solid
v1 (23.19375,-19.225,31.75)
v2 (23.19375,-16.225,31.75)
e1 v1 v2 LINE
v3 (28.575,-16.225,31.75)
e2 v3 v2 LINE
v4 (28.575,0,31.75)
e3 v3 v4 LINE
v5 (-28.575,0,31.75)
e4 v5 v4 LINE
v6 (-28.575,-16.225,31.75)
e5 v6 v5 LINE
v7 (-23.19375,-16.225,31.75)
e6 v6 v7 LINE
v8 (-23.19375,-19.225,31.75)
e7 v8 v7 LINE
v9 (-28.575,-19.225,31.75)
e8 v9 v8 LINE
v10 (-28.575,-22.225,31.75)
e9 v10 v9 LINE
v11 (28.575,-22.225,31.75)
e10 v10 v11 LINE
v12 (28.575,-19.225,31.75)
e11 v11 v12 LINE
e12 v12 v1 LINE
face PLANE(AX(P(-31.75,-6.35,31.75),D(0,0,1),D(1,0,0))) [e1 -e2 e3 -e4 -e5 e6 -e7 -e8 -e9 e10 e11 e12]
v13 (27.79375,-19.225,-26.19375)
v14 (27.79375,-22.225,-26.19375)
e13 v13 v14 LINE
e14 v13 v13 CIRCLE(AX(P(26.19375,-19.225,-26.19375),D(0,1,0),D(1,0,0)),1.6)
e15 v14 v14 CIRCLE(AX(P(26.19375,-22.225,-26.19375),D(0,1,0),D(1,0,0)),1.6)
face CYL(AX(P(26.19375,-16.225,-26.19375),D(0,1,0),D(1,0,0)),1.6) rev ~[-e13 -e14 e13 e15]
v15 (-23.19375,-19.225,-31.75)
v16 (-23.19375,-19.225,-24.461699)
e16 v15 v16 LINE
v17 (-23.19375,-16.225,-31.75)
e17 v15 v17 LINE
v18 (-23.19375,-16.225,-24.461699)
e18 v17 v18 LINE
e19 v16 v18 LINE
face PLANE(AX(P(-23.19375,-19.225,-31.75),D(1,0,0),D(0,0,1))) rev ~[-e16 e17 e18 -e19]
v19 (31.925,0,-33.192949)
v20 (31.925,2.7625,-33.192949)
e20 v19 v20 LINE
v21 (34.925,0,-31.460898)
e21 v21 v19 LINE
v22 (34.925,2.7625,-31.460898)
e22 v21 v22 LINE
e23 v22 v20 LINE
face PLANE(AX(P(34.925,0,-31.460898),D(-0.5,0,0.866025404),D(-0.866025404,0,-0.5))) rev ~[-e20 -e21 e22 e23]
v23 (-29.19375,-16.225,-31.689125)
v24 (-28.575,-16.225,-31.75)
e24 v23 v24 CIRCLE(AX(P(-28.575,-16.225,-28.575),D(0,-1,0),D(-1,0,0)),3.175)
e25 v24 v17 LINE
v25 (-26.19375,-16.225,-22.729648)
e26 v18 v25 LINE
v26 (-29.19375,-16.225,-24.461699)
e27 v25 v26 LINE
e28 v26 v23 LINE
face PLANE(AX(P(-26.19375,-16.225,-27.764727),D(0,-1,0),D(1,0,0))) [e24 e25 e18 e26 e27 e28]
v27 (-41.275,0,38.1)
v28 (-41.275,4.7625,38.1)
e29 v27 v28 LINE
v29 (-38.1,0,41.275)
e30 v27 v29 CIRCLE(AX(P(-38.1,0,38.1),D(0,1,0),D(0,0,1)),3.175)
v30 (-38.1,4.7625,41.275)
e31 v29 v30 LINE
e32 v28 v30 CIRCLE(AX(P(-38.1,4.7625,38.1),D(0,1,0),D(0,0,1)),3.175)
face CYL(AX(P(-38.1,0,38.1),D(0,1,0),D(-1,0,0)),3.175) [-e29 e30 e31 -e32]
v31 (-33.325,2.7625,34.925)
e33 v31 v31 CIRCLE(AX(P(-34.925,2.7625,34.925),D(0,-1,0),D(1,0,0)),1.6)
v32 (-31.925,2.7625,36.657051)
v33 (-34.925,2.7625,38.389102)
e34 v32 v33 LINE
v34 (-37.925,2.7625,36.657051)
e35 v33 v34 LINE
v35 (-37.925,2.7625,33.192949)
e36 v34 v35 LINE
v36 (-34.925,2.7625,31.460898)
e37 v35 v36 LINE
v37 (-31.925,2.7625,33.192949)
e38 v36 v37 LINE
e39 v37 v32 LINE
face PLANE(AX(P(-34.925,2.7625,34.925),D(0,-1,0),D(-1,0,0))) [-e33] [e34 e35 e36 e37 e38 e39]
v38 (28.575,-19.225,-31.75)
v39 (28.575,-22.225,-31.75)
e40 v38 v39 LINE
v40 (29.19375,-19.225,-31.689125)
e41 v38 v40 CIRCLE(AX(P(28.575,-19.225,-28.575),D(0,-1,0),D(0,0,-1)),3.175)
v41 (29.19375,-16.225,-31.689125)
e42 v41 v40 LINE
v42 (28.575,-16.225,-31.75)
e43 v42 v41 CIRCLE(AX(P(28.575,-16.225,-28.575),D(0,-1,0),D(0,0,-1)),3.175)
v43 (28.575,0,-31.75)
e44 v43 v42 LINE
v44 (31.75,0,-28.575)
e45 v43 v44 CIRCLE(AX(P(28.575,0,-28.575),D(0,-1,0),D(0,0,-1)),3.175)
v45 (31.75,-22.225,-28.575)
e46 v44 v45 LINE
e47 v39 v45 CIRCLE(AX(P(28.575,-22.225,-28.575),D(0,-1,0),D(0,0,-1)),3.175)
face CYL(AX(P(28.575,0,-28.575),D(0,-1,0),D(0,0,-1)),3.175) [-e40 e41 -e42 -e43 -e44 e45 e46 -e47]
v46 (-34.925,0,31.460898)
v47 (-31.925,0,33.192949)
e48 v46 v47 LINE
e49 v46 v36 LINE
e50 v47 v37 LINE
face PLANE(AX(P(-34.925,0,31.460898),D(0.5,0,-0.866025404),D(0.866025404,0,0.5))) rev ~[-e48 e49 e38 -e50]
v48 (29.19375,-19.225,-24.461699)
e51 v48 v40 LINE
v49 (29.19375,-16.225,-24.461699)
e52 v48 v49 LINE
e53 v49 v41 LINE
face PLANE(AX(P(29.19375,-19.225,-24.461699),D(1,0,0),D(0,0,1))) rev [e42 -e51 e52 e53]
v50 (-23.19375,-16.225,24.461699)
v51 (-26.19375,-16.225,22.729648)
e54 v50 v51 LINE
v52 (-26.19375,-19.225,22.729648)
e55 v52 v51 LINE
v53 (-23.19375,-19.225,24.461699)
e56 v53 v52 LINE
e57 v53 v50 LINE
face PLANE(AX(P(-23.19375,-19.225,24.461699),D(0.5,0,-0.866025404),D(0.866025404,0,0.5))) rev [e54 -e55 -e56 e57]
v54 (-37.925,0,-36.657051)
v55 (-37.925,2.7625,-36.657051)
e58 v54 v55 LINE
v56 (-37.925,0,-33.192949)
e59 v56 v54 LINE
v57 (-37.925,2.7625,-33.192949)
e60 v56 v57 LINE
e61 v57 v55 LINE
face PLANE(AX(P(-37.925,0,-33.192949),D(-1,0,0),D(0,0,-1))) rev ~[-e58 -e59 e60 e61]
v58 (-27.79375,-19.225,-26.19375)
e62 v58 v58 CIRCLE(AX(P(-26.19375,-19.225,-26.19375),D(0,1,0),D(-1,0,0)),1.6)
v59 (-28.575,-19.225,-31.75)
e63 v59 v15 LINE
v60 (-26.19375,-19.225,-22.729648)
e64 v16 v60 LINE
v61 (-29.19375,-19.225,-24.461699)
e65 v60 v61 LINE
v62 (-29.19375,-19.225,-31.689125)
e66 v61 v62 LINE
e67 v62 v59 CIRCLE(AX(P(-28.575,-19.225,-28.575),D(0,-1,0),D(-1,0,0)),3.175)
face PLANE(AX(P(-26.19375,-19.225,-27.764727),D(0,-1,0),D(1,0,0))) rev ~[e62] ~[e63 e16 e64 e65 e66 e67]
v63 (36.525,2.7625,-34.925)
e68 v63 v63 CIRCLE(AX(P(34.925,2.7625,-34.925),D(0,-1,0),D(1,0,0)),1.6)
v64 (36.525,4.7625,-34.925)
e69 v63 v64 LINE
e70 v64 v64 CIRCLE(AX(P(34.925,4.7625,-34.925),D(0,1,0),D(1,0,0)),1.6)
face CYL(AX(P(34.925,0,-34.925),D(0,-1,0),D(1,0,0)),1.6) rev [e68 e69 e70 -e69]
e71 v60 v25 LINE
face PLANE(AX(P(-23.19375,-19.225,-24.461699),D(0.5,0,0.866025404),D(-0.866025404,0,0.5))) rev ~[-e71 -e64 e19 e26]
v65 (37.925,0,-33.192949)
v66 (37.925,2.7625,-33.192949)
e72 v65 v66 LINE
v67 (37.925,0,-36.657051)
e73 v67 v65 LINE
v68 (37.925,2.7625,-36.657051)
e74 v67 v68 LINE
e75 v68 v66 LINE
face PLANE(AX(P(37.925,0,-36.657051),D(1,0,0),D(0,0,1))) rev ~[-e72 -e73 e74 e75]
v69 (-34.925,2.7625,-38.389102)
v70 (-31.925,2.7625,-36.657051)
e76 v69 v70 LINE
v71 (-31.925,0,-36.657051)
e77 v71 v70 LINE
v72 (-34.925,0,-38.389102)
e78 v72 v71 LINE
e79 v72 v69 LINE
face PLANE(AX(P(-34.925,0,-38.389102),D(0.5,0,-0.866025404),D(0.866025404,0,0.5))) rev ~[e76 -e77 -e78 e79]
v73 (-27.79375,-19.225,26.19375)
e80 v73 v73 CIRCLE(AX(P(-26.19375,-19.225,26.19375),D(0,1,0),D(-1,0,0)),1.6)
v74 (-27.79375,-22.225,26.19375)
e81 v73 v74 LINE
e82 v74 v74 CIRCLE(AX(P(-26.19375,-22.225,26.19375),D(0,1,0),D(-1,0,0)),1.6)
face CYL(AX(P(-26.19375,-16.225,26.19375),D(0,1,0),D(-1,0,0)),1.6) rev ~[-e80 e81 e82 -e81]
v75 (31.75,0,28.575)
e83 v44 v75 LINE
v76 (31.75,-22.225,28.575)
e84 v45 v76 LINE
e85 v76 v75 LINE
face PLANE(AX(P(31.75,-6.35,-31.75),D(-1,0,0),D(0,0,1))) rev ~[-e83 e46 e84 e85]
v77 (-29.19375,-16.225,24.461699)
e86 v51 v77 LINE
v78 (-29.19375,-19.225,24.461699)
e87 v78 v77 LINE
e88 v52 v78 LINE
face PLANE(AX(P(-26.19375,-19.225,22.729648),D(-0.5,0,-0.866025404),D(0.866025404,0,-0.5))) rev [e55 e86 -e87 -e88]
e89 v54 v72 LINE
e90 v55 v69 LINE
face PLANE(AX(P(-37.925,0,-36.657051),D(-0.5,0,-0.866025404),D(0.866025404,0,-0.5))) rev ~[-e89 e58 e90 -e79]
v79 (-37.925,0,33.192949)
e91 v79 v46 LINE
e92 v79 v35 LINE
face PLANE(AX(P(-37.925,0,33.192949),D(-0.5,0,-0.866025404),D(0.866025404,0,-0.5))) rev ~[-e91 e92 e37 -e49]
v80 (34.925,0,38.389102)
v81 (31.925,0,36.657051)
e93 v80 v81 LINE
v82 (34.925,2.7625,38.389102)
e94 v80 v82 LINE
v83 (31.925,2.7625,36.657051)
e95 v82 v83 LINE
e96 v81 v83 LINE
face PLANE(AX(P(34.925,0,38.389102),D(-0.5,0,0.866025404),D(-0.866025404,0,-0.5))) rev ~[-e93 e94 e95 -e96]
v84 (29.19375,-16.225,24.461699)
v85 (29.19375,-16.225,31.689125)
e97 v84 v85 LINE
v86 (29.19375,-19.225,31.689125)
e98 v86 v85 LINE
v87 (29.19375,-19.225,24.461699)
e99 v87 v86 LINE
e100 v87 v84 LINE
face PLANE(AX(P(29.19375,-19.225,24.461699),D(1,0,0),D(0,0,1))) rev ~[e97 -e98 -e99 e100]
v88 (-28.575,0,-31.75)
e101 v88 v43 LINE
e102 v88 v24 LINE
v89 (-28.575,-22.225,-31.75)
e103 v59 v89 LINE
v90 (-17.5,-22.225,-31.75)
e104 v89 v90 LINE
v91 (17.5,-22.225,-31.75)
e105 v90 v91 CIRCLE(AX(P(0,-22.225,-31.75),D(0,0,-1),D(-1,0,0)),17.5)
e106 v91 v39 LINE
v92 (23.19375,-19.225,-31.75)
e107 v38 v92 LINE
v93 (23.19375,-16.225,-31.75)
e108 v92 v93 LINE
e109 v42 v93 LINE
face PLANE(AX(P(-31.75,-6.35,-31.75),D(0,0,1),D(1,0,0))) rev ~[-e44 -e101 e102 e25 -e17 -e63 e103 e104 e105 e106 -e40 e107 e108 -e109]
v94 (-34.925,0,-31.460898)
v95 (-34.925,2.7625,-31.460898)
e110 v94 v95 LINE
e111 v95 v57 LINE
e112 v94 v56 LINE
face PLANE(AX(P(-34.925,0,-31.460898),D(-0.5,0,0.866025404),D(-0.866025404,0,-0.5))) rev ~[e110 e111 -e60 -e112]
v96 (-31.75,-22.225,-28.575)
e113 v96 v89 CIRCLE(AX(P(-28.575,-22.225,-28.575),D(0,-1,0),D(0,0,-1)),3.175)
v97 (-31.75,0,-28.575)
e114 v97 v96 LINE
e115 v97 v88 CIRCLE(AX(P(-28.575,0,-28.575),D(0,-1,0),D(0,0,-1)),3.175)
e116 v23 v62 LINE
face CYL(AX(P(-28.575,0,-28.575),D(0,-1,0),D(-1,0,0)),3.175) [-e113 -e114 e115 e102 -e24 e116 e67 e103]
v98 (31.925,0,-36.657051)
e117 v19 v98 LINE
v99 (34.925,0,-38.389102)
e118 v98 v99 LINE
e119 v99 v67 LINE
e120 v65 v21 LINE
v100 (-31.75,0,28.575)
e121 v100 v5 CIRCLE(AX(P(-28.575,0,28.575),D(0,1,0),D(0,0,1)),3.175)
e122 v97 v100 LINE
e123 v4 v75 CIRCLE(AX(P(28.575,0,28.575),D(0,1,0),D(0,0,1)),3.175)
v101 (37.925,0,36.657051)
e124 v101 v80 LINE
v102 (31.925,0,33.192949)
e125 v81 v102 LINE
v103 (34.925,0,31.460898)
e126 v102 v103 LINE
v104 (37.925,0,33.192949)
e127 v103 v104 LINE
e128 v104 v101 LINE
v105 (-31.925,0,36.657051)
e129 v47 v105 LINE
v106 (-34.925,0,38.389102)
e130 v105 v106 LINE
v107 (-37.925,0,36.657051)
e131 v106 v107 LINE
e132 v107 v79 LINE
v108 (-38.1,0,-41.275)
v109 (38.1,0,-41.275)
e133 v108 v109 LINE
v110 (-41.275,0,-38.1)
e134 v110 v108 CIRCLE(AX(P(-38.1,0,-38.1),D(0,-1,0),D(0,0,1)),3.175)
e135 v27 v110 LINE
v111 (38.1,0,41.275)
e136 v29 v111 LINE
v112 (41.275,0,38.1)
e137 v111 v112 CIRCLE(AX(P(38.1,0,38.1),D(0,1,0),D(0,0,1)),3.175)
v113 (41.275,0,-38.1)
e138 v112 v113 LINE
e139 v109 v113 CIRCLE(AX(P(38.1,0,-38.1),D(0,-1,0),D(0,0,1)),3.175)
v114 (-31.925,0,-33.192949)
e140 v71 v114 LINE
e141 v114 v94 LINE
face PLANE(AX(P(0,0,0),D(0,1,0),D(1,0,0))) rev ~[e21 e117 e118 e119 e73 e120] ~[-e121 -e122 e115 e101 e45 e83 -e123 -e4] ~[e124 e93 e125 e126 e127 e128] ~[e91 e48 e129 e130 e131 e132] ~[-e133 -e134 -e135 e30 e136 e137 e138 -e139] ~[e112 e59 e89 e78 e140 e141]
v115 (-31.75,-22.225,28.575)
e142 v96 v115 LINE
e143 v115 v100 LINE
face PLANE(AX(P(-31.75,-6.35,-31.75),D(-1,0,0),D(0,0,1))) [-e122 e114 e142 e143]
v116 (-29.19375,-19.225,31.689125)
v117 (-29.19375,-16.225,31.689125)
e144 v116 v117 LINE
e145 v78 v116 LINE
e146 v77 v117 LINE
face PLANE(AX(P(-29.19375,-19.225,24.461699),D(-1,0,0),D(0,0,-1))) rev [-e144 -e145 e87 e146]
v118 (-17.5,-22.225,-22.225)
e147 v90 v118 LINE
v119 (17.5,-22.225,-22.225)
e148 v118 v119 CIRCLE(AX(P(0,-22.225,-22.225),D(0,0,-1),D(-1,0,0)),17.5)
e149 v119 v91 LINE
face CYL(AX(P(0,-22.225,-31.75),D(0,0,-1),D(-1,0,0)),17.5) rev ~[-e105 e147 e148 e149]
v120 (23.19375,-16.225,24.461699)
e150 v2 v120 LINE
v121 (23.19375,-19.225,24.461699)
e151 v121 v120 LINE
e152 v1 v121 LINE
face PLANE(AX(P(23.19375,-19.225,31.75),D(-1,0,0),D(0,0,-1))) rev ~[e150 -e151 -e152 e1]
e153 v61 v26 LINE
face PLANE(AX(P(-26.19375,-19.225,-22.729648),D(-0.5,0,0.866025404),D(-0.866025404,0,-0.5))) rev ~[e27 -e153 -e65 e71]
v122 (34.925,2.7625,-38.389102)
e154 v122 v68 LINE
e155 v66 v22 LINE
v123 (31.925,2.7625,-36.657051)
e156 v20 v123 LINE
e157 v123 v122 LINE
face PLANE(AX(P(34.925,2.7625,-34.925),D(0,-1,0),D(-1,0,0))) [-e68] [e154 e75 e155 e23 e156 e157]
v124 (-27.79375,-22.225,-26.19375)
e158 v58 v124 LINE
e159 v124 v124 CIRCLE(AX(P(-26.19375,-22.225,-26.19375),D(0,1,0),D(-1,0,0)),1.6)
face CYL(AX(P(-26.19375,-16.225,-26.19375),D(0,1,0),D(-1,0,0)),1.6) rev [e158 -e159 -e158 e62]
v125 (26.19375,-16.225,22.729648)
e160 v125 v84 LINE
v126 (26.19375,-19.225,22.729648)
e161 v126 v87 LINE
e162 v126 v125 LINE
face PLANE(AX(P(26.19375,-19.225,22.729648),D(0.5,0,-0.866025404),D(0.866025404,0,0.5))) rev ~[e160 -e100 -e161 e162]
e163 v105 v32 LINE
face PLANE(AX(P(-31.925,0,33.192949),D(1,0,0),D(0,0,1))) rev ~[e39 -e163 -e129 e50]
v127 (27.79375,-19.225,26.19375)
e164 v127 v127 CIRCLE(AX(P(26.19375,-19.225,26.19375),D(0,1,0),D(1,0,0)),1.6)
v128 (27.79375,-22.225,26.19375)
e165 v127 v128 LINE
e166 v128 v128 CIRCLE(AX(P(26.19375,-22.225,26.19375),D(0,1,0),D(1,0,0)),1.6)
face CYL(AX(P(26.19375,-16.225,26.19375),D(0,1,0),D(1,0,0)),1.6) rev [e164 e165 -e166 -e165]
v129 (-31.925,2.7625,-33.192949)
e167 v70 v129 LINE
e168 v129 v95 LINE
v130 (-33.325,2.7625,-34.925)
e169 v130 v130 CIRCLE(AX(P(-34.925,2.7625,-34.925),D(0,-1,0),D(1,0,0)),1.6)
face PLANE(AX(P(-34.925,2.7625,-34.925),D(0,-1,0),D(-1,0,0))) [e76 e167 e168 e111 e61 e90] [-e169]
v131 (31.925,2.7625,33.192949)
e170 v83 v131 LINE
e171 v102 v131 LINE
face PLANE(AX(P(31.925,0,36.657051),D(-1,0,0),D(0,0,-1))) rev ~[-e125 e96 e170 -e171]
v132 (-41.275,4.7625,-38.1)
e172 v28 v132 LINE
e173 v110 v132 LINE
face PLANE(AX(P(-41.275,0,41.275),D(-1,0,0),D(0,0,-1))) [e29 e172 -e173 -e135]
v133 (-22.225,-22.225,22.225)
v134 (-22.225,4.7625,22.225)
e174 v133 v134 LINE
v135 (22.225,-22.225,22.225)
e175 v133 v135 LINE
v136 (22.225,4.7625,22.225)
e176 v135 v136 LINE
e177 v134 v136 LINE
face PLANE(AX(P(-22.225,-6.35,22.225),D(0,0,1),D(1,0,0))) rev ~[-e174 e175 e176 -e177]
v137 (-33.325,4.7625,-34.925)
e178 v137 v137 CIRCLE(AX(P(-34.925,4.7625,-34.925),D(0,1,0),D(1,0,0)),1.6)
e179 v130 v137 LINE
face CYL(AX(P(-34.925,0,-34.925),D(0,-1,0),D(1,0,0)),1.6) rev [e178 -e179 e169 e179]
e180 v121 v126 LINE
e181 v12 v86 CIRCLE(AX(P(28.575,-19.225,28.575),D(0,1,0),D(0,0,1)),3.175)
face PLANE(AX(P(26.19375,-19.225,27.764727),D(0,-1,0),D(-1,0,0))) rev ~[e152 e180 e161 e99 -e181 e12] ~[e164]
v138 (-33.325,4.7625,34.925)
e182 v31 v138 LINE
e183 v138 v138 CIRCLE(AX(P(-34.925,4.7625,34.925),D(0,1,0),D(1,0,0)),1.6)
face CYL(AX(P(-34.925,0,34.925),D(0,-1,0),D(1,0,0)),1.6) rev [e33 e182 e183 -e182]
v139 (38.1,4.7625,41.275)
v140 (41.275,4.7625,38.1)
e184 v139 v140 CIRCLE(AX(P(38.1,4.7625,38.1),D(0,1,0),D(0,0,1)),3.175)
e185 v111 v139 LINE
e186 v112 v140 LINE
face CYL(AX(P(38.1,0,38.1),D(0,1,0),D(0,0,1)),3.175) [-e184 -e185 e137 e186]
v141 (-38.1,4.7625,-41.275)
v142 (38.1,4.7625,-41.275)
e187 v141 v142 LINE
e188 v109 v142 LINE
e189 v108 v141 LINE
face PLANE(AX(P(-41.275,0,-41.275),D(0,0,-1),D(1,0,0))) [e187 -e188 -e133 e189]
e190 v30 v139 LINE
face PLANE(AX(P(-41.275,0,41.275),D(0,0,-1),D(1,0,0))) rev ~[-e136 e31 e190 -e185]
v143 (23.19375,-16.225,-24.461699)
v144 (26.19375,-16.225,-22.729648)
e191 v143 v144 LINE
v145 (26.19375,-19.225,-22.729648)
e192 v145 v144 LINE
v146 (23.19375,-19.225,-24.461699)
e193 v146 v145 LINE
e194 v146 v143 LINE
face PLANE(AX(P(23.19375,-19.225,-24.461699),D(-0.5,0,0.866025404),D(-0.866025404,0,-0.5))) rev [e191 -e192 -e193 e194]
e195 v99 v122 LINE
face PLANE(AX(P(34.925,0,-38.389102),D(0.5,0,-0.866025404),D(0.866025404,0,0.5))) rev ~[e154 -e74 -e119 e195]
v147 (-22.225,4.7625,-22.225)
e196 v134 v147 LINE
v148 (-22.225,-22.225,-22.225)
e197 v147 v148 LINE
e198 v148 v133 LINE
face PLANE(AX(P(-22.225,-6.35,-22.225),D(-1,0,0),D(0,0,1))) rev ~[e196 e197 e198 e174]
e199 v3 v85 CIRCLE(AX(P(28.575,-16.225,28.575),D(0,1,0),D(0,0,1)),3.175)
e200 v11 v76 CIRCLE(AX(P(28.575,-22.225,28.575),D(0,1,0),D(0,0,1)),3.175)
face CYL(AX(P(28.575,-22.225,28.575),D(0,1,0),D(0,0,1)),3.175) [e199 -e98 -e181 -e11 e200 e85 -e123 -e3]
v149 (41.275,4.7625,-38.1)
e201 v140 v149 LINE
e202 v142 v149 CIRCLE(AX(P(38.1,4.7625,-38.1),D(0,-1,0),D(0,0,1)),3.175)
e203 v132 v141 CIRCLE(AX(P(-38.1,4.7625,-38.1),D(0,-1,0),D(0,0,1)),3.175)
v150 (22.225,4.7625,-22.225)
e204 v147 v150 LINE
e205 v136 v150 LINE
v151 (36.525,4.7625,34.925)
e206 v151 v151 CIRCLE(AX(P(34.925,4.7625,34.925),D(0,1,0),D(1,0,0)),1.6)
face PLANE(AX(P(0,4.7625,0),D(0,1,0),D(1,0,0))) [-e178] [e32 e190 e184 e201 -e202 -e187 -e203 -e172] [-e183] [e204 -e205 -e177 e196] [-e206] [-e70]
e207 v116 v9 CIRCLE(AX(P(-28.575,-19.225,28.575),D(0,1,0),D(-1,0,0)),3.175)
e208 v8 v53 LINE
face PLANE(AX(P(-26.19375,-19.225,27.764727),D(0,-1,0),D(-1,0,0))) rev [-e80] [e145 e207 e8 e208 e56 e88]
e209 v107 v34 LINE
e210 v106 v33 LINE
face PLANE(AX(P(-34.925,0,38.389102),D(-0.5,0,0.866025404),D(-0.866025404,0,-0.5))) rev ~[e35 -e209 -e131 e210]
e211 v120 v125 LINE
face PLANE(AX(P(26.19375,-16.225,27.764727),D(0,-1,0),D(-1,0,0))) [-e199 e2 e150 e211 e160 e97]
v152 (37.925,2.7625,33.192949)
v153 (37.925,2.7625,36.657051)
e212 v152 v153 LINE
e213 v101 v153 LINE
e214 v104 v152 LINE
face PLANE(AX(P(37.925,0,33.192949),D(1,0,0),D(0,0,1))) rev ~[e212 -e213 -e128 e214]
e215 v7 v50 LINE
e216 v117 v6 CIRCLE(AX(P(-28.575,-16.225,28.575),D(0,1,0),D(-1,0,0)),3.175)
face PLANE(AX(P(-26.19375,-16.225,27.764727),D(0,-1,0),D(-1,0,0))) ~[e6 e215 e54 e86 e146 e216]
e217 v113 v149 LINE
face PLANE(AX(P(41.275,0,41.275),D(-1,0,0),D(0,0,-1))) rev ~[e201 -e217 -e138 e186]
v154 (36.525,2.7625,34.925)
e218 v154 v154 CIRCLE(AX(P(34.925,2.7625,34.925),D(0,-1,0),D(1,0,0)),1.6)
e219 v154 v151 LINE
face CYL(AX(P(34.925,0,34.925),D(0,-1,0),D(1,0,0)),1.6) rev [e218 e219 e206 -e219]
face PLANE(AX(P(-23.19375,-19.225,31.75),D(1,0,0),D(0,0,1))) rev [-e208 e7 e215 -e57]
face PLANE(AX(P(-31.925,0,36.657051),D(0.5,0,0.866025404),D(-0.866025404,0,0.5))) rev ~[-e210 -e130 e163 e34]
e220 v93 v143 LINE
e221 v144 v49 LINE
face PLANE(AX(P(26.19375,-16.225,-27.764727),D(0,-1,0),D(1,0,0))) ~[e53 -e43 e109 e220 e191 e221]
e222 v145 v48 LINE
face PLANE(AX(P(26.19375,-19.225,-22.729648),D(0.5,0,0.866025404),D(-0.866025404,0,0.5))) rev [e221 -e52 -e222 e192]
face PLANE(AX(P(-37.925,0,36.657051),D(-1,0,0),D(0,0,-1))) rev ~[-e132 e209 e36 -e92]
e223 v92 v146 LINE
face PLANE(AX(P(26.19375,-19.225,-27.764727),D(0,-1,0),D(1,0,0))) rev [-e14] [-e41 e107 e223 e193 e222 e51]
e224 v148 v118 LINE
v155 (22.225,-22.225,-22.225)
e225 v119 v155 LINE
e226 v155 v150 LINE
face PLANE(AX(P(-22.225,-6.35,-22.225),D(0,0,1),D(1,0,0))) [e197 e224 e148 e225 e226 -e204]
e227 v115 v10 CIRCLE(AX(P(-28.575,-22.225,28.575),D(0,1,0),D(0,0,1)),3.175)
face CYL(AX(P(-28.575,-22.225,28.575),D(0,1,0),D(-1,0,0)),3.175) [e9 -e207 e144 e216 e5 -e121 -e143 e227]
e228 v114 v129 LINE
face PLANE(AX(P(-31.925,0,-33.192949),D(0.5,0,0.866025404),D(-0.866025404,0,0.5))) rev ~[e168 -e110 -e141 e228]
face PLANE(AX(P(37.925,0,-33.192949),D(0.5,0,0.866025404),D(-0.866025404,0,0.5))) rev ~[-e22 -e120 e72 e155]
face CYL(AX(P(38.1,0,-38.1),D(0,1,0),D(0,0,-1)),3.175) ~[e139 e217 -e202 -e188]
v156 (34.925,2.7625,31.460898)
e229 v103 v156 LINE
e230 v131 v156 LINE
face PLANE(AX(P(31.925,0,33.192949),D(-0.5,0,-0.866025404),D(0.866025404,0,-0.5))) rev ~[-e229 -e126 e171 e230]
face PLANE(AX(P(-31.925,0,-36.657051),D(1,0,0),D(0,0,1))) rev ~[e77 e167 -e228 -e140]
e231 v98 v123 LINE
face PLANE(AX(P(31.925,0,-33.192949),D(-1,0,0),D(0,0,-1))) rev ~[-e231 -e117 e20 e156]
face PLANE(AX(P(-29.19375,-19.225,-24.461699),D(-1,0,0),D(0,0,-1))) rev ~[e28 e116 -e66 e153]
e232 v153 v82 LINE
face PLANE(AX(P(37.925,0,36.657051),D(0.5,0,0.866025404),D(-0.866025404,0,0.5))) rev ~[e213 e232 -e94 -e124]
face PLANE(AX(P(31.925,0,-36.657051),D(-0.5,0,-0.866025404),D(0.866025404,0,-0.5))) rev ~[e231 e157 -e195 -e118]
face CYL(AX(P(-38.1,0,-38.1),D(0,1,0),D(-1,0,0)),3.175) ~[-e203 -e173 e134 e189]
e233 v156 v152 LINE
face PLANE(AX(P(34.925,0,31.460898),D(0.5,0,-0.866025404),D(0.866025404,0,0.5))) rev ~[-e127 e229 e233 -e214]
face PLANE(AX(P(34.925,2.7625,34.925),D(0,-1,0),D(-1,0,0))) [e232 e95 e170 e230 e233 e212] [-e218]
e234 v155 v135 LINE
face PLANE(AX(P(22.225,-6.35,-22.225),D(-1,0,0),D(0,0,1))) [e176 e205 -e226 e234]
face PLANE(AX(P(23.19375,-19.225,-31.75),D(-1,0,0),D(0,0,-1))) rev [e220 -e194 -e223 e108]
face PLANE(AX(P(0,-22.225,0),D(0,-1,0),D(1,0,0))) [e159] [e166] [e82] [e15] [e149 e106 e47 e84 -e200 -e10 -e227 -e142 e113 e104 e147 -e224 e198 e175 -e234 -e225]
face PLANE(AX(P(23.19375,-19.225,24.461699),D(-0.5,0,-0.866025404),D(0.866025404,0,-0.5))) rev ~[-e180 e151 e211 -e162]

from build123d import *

# Parameters (mm, degrees)
SKETCH1_W               = 82.55
SKETCH1_H               = 82.55
SKETCH1_R               = 1.6
SKETCH1_W_2             = 44.45
SKETCH1_H_2             = 44.45
BOSS_EXTRUDE1_DEPTH     = 4.7625
SKETCH2_W               = 63.5
SKETCH2_H               = 63.5
SKETCH2_W_2             = 44.45
SKETCH2_H_2             = 44.45
BOSS_EXTRUDE2_DEPTH     = 6.35
SKETCH3_W               = 63.5
SKETCH3_H               = 63.5
SKETCH3_W_2             = 44.45
SKETCH3_H_2             = 44.45
BOSS_EXTRUDE3_DEPTH     = 15.875
CUT_EXTRUDE1_REACH      = 75.025
SKETCH4_R               = 17.5
FILLET1_R               = 3.175
CUT_EXTRUDE3_START      = -3
CUT_EXTRUDE3_DEPTH      = 3
SKETCH6_R               = 1.6
CUT_EXTRUDE4_DEPTH      = 7
MIRROR2_START           = -3
MIRROR2_COPY_1_DEPTH    = 3
MIRROR2_COPY_2_SKETCH_R = 1.6
MIRROR2_COPY_2_DEPTH    = 7
CUT_EXTRUDE5_DEPTH      = 2.7625


with BuildPart() as part:
    # Sketch1 → Boss-Extrude1 (new body)
    with BuildSketch(Plane(origin=(0, 0, 0), x_dir=(1, 0, 0), z_dir=(0, 1, 0))):
        Rectangle(SKETCH1_W, SKETCH1_H)
        with Locations((-34.925, 34.925)):
            Circle(SKETCH1_R, mode=Mode.SUBTRACT)
        with Locations((34.925, 34.925)):
            Circle(SKETCH1_R, mode=Mode.SUBTRACT)
        with Locations((34.925, -34.925)):
            Circle(SKETCH1_R, mode=Mode.SUBTRACT)
        with Locations((-34.925, -34.925)):
            Circle(SKETCH1_R, mode=Mode.SUBTRACT)
        Rectangle(SKETCH1_W_2, SKETCH1_H_2, mode=Mode.SUBTRACT)
    extrude(amount=BOSS_EXTRUDE1_DEPTH)

    # Sketch2 → Boss-Extrude2 (add)
    with BuildSketch(Plane.XZ):
        Rectangle(SKETCH2_W, SKETCH2_H)
        Rectangle(SKETCH2_W_2, SKETCH2_H_2, mode=Mode.SUBTRACT)
    extrude(amount=BOSS_EXTRUDE2_DEPTH)

    # Sketch3 → Boss-Extrude3 (add)
    with BuildSketch(Plane.XZ.offset(6.35)):
        Rectangle(SKETCH3_W, SKETCH3_H)
        Rectangle(SKETCH3_W_2, SKETCH3_H_2, mode=Mode.SUBTRACT)
    extrude(amount=BOSS_EXTRUDE3_DEPTH)

    # Sketch4 → Cut-Extrude1 (cut, up to next)
    with BuildSketch(Plane(origin=(0, 0, -31.75), x_dir=(-1, 0, 0), z_dir=(0, 0, -1)), mode=Mode.PRIVATE) as cut_extrude1_sk1:
        with Locations((0, -22.225)):
            Circle(SKETCH4_R)
    cut_extrude1_tool1 = extrude(cut_extrude1_sk1.sketch, amount=-CUT_EXTRUDE1_REACH, mode=Mode.PRIVATE) & part.part
    add(cut_extrude1_tool1.solids().sort_by_distance((0, -22.225, -31.75))[0], mode=Mode.SUBTRACT)

    # Fillet1
    fillet1_edges = [part.edges().sort_by_distance(p)[0] for p in [
        (31.75, -11.1125, -31.75),
        (31.75, -11.1125, 31.75),
        (-31.75, -11.1125, 31.75),
        (-31.75, -11.1125, -31.75),
        (41.275, 2.38125, 41.275),
        (-41.275, 2.38125, 41.275),
        (-41.275, 2.38125, -41.275),
        (41.275, 2.38125, -41.275),
    ]]
    fillet(fillet1_edges, radius=FILLET1_R)

    # Sketch5 → Cut-Extrude3 (cut)
    with BuildSketch(Plane.XZ.offset(22.225).offset(CUT_EXTRUDE3_START)):
        Polygon((-23.19375, -27.925800808), (-23.19375, -24.461699192), (-26.19375, -22.729648385), (-29.19375, -24.461699192), (-29.19375, -27.925800808), (-29.19375, -31.75), (-23.19375, -31.75), align=None)
    cut_extrude3 = extrude(amount=-CUT_EXTRUDE3_DEPTH, mode=Mode.SUBTRACT)

    # Sketch6 → Cut-Extrude4 (cut, through all)
    with BuildSketch(Plane(origin=(0, -16.225, 0), x_dir=(-1, 0, 0), z_dir=(0, -1, 0))):
        with Locations((26.19375, 26.19375)):
            Circle(SKETCH6_R)
    cut_extrude4 = extrude(amount=CUT_EXTRUDE4_DEPTH, mode=Mode.SUBTRACT)

    # Mirror1: Cut-Extrude3, Cut-Extrude4 across plane
    add(cut_extrude3.mirror(Plane(origin=(0, 0, 0), x_dir=(0, 0, 1), z_dir=(1, 0, 0))), mode=Mode.SUBTRACT)
    add(cut_extrude4.mirror(Plane(origin=(0, 0, 0), x_dir=(0, 0, 1), z_dir=(1, 0, 0))), mode=Mode.SUBTRACT)

    # Mirror2: Cut-Extrude4, Cut-Extrude3 across plane
    add(cut_extrude4.mirror(Plane.XY), mode=Mode.SUBTRACT)
    add(cut_extrude3.mirror(Plane.XY), mode=Mode.SUBTRACT)

    # Mirror2 copy 1 sketch → Mirror2 copy 1 (cut)
    with BuildSketch(Plane(origin=(0, -22.225, 0), x_dir=(-1, 0, 0), z_dir=(0, -1, 0)).offset(MIRROR2_START)):
        Polygon((-23.19375, -27.925800808), (-23.19375, -24.461699192), (-26.19375, -22.729648385), (-29.19375, -24.461699192), (-29.19375, -27.925800808), (-29.19375, -31.75), (-23.19375, -31.75), align=None)
    extrude(amount=-MIRROR2_COPY_1_DEPTH, mode=Mode.SUBTRACT)

    # Mirror2 copy 2 sketch → Mirror2 copy 2 (cut, through all)
    with BuildSketch(Plane.XZ.offset(16.225)):
        with Locations((26.19375, 26.19375)):
            Circle(MIRROR2_COPY_2_SKETCH_R)
    extrude(amount=MIRROR2_COPY_2_DEPTH, mode=Mode.SUBTRACT)

    # Sketch7 → Cut-Extrude5 (cut)
    with BuildSketch(Plane(origin=(0, 0, 0), x_dir=(-1, 0, 0), z_dir=(0, -1, 0))):
        Polygon((34.925, -31.460898385), (31.925, -33.192949192), (31.925, -36.657050808), (34.925, -38.389101615), (37.925, -36.657050808), (37.925, -33.192949192), align=None)
        Polygon((-37.925, -33.192949192), (-37.925, -36.657050808), (-34.925, -38.389101615), (-31.925, -36.657050808), (-31.925, -33.192949192), (-34.925, -31.460898385), align=None)
        Polygon((-37.925, 36.657050808), (-37.925, 33.192949192), (-34.925, 31.460898385), (-31.925, 33.192949192), (-31.925, 36.657050808), (-34.925, 38.389101615), align=None)
        Polygon((31.925, 36.657050808), (31.925, 33.192949192), (34.925, 31.460898385), (37.925, 33.192949192), (37.925, 36.657050808), (34.925, 38.389101615), align=None)
    extrude(amount=-CUT_EXTRUDE5_DEPTH, mode=Mode.SUBTRACT)


solid = part.part
